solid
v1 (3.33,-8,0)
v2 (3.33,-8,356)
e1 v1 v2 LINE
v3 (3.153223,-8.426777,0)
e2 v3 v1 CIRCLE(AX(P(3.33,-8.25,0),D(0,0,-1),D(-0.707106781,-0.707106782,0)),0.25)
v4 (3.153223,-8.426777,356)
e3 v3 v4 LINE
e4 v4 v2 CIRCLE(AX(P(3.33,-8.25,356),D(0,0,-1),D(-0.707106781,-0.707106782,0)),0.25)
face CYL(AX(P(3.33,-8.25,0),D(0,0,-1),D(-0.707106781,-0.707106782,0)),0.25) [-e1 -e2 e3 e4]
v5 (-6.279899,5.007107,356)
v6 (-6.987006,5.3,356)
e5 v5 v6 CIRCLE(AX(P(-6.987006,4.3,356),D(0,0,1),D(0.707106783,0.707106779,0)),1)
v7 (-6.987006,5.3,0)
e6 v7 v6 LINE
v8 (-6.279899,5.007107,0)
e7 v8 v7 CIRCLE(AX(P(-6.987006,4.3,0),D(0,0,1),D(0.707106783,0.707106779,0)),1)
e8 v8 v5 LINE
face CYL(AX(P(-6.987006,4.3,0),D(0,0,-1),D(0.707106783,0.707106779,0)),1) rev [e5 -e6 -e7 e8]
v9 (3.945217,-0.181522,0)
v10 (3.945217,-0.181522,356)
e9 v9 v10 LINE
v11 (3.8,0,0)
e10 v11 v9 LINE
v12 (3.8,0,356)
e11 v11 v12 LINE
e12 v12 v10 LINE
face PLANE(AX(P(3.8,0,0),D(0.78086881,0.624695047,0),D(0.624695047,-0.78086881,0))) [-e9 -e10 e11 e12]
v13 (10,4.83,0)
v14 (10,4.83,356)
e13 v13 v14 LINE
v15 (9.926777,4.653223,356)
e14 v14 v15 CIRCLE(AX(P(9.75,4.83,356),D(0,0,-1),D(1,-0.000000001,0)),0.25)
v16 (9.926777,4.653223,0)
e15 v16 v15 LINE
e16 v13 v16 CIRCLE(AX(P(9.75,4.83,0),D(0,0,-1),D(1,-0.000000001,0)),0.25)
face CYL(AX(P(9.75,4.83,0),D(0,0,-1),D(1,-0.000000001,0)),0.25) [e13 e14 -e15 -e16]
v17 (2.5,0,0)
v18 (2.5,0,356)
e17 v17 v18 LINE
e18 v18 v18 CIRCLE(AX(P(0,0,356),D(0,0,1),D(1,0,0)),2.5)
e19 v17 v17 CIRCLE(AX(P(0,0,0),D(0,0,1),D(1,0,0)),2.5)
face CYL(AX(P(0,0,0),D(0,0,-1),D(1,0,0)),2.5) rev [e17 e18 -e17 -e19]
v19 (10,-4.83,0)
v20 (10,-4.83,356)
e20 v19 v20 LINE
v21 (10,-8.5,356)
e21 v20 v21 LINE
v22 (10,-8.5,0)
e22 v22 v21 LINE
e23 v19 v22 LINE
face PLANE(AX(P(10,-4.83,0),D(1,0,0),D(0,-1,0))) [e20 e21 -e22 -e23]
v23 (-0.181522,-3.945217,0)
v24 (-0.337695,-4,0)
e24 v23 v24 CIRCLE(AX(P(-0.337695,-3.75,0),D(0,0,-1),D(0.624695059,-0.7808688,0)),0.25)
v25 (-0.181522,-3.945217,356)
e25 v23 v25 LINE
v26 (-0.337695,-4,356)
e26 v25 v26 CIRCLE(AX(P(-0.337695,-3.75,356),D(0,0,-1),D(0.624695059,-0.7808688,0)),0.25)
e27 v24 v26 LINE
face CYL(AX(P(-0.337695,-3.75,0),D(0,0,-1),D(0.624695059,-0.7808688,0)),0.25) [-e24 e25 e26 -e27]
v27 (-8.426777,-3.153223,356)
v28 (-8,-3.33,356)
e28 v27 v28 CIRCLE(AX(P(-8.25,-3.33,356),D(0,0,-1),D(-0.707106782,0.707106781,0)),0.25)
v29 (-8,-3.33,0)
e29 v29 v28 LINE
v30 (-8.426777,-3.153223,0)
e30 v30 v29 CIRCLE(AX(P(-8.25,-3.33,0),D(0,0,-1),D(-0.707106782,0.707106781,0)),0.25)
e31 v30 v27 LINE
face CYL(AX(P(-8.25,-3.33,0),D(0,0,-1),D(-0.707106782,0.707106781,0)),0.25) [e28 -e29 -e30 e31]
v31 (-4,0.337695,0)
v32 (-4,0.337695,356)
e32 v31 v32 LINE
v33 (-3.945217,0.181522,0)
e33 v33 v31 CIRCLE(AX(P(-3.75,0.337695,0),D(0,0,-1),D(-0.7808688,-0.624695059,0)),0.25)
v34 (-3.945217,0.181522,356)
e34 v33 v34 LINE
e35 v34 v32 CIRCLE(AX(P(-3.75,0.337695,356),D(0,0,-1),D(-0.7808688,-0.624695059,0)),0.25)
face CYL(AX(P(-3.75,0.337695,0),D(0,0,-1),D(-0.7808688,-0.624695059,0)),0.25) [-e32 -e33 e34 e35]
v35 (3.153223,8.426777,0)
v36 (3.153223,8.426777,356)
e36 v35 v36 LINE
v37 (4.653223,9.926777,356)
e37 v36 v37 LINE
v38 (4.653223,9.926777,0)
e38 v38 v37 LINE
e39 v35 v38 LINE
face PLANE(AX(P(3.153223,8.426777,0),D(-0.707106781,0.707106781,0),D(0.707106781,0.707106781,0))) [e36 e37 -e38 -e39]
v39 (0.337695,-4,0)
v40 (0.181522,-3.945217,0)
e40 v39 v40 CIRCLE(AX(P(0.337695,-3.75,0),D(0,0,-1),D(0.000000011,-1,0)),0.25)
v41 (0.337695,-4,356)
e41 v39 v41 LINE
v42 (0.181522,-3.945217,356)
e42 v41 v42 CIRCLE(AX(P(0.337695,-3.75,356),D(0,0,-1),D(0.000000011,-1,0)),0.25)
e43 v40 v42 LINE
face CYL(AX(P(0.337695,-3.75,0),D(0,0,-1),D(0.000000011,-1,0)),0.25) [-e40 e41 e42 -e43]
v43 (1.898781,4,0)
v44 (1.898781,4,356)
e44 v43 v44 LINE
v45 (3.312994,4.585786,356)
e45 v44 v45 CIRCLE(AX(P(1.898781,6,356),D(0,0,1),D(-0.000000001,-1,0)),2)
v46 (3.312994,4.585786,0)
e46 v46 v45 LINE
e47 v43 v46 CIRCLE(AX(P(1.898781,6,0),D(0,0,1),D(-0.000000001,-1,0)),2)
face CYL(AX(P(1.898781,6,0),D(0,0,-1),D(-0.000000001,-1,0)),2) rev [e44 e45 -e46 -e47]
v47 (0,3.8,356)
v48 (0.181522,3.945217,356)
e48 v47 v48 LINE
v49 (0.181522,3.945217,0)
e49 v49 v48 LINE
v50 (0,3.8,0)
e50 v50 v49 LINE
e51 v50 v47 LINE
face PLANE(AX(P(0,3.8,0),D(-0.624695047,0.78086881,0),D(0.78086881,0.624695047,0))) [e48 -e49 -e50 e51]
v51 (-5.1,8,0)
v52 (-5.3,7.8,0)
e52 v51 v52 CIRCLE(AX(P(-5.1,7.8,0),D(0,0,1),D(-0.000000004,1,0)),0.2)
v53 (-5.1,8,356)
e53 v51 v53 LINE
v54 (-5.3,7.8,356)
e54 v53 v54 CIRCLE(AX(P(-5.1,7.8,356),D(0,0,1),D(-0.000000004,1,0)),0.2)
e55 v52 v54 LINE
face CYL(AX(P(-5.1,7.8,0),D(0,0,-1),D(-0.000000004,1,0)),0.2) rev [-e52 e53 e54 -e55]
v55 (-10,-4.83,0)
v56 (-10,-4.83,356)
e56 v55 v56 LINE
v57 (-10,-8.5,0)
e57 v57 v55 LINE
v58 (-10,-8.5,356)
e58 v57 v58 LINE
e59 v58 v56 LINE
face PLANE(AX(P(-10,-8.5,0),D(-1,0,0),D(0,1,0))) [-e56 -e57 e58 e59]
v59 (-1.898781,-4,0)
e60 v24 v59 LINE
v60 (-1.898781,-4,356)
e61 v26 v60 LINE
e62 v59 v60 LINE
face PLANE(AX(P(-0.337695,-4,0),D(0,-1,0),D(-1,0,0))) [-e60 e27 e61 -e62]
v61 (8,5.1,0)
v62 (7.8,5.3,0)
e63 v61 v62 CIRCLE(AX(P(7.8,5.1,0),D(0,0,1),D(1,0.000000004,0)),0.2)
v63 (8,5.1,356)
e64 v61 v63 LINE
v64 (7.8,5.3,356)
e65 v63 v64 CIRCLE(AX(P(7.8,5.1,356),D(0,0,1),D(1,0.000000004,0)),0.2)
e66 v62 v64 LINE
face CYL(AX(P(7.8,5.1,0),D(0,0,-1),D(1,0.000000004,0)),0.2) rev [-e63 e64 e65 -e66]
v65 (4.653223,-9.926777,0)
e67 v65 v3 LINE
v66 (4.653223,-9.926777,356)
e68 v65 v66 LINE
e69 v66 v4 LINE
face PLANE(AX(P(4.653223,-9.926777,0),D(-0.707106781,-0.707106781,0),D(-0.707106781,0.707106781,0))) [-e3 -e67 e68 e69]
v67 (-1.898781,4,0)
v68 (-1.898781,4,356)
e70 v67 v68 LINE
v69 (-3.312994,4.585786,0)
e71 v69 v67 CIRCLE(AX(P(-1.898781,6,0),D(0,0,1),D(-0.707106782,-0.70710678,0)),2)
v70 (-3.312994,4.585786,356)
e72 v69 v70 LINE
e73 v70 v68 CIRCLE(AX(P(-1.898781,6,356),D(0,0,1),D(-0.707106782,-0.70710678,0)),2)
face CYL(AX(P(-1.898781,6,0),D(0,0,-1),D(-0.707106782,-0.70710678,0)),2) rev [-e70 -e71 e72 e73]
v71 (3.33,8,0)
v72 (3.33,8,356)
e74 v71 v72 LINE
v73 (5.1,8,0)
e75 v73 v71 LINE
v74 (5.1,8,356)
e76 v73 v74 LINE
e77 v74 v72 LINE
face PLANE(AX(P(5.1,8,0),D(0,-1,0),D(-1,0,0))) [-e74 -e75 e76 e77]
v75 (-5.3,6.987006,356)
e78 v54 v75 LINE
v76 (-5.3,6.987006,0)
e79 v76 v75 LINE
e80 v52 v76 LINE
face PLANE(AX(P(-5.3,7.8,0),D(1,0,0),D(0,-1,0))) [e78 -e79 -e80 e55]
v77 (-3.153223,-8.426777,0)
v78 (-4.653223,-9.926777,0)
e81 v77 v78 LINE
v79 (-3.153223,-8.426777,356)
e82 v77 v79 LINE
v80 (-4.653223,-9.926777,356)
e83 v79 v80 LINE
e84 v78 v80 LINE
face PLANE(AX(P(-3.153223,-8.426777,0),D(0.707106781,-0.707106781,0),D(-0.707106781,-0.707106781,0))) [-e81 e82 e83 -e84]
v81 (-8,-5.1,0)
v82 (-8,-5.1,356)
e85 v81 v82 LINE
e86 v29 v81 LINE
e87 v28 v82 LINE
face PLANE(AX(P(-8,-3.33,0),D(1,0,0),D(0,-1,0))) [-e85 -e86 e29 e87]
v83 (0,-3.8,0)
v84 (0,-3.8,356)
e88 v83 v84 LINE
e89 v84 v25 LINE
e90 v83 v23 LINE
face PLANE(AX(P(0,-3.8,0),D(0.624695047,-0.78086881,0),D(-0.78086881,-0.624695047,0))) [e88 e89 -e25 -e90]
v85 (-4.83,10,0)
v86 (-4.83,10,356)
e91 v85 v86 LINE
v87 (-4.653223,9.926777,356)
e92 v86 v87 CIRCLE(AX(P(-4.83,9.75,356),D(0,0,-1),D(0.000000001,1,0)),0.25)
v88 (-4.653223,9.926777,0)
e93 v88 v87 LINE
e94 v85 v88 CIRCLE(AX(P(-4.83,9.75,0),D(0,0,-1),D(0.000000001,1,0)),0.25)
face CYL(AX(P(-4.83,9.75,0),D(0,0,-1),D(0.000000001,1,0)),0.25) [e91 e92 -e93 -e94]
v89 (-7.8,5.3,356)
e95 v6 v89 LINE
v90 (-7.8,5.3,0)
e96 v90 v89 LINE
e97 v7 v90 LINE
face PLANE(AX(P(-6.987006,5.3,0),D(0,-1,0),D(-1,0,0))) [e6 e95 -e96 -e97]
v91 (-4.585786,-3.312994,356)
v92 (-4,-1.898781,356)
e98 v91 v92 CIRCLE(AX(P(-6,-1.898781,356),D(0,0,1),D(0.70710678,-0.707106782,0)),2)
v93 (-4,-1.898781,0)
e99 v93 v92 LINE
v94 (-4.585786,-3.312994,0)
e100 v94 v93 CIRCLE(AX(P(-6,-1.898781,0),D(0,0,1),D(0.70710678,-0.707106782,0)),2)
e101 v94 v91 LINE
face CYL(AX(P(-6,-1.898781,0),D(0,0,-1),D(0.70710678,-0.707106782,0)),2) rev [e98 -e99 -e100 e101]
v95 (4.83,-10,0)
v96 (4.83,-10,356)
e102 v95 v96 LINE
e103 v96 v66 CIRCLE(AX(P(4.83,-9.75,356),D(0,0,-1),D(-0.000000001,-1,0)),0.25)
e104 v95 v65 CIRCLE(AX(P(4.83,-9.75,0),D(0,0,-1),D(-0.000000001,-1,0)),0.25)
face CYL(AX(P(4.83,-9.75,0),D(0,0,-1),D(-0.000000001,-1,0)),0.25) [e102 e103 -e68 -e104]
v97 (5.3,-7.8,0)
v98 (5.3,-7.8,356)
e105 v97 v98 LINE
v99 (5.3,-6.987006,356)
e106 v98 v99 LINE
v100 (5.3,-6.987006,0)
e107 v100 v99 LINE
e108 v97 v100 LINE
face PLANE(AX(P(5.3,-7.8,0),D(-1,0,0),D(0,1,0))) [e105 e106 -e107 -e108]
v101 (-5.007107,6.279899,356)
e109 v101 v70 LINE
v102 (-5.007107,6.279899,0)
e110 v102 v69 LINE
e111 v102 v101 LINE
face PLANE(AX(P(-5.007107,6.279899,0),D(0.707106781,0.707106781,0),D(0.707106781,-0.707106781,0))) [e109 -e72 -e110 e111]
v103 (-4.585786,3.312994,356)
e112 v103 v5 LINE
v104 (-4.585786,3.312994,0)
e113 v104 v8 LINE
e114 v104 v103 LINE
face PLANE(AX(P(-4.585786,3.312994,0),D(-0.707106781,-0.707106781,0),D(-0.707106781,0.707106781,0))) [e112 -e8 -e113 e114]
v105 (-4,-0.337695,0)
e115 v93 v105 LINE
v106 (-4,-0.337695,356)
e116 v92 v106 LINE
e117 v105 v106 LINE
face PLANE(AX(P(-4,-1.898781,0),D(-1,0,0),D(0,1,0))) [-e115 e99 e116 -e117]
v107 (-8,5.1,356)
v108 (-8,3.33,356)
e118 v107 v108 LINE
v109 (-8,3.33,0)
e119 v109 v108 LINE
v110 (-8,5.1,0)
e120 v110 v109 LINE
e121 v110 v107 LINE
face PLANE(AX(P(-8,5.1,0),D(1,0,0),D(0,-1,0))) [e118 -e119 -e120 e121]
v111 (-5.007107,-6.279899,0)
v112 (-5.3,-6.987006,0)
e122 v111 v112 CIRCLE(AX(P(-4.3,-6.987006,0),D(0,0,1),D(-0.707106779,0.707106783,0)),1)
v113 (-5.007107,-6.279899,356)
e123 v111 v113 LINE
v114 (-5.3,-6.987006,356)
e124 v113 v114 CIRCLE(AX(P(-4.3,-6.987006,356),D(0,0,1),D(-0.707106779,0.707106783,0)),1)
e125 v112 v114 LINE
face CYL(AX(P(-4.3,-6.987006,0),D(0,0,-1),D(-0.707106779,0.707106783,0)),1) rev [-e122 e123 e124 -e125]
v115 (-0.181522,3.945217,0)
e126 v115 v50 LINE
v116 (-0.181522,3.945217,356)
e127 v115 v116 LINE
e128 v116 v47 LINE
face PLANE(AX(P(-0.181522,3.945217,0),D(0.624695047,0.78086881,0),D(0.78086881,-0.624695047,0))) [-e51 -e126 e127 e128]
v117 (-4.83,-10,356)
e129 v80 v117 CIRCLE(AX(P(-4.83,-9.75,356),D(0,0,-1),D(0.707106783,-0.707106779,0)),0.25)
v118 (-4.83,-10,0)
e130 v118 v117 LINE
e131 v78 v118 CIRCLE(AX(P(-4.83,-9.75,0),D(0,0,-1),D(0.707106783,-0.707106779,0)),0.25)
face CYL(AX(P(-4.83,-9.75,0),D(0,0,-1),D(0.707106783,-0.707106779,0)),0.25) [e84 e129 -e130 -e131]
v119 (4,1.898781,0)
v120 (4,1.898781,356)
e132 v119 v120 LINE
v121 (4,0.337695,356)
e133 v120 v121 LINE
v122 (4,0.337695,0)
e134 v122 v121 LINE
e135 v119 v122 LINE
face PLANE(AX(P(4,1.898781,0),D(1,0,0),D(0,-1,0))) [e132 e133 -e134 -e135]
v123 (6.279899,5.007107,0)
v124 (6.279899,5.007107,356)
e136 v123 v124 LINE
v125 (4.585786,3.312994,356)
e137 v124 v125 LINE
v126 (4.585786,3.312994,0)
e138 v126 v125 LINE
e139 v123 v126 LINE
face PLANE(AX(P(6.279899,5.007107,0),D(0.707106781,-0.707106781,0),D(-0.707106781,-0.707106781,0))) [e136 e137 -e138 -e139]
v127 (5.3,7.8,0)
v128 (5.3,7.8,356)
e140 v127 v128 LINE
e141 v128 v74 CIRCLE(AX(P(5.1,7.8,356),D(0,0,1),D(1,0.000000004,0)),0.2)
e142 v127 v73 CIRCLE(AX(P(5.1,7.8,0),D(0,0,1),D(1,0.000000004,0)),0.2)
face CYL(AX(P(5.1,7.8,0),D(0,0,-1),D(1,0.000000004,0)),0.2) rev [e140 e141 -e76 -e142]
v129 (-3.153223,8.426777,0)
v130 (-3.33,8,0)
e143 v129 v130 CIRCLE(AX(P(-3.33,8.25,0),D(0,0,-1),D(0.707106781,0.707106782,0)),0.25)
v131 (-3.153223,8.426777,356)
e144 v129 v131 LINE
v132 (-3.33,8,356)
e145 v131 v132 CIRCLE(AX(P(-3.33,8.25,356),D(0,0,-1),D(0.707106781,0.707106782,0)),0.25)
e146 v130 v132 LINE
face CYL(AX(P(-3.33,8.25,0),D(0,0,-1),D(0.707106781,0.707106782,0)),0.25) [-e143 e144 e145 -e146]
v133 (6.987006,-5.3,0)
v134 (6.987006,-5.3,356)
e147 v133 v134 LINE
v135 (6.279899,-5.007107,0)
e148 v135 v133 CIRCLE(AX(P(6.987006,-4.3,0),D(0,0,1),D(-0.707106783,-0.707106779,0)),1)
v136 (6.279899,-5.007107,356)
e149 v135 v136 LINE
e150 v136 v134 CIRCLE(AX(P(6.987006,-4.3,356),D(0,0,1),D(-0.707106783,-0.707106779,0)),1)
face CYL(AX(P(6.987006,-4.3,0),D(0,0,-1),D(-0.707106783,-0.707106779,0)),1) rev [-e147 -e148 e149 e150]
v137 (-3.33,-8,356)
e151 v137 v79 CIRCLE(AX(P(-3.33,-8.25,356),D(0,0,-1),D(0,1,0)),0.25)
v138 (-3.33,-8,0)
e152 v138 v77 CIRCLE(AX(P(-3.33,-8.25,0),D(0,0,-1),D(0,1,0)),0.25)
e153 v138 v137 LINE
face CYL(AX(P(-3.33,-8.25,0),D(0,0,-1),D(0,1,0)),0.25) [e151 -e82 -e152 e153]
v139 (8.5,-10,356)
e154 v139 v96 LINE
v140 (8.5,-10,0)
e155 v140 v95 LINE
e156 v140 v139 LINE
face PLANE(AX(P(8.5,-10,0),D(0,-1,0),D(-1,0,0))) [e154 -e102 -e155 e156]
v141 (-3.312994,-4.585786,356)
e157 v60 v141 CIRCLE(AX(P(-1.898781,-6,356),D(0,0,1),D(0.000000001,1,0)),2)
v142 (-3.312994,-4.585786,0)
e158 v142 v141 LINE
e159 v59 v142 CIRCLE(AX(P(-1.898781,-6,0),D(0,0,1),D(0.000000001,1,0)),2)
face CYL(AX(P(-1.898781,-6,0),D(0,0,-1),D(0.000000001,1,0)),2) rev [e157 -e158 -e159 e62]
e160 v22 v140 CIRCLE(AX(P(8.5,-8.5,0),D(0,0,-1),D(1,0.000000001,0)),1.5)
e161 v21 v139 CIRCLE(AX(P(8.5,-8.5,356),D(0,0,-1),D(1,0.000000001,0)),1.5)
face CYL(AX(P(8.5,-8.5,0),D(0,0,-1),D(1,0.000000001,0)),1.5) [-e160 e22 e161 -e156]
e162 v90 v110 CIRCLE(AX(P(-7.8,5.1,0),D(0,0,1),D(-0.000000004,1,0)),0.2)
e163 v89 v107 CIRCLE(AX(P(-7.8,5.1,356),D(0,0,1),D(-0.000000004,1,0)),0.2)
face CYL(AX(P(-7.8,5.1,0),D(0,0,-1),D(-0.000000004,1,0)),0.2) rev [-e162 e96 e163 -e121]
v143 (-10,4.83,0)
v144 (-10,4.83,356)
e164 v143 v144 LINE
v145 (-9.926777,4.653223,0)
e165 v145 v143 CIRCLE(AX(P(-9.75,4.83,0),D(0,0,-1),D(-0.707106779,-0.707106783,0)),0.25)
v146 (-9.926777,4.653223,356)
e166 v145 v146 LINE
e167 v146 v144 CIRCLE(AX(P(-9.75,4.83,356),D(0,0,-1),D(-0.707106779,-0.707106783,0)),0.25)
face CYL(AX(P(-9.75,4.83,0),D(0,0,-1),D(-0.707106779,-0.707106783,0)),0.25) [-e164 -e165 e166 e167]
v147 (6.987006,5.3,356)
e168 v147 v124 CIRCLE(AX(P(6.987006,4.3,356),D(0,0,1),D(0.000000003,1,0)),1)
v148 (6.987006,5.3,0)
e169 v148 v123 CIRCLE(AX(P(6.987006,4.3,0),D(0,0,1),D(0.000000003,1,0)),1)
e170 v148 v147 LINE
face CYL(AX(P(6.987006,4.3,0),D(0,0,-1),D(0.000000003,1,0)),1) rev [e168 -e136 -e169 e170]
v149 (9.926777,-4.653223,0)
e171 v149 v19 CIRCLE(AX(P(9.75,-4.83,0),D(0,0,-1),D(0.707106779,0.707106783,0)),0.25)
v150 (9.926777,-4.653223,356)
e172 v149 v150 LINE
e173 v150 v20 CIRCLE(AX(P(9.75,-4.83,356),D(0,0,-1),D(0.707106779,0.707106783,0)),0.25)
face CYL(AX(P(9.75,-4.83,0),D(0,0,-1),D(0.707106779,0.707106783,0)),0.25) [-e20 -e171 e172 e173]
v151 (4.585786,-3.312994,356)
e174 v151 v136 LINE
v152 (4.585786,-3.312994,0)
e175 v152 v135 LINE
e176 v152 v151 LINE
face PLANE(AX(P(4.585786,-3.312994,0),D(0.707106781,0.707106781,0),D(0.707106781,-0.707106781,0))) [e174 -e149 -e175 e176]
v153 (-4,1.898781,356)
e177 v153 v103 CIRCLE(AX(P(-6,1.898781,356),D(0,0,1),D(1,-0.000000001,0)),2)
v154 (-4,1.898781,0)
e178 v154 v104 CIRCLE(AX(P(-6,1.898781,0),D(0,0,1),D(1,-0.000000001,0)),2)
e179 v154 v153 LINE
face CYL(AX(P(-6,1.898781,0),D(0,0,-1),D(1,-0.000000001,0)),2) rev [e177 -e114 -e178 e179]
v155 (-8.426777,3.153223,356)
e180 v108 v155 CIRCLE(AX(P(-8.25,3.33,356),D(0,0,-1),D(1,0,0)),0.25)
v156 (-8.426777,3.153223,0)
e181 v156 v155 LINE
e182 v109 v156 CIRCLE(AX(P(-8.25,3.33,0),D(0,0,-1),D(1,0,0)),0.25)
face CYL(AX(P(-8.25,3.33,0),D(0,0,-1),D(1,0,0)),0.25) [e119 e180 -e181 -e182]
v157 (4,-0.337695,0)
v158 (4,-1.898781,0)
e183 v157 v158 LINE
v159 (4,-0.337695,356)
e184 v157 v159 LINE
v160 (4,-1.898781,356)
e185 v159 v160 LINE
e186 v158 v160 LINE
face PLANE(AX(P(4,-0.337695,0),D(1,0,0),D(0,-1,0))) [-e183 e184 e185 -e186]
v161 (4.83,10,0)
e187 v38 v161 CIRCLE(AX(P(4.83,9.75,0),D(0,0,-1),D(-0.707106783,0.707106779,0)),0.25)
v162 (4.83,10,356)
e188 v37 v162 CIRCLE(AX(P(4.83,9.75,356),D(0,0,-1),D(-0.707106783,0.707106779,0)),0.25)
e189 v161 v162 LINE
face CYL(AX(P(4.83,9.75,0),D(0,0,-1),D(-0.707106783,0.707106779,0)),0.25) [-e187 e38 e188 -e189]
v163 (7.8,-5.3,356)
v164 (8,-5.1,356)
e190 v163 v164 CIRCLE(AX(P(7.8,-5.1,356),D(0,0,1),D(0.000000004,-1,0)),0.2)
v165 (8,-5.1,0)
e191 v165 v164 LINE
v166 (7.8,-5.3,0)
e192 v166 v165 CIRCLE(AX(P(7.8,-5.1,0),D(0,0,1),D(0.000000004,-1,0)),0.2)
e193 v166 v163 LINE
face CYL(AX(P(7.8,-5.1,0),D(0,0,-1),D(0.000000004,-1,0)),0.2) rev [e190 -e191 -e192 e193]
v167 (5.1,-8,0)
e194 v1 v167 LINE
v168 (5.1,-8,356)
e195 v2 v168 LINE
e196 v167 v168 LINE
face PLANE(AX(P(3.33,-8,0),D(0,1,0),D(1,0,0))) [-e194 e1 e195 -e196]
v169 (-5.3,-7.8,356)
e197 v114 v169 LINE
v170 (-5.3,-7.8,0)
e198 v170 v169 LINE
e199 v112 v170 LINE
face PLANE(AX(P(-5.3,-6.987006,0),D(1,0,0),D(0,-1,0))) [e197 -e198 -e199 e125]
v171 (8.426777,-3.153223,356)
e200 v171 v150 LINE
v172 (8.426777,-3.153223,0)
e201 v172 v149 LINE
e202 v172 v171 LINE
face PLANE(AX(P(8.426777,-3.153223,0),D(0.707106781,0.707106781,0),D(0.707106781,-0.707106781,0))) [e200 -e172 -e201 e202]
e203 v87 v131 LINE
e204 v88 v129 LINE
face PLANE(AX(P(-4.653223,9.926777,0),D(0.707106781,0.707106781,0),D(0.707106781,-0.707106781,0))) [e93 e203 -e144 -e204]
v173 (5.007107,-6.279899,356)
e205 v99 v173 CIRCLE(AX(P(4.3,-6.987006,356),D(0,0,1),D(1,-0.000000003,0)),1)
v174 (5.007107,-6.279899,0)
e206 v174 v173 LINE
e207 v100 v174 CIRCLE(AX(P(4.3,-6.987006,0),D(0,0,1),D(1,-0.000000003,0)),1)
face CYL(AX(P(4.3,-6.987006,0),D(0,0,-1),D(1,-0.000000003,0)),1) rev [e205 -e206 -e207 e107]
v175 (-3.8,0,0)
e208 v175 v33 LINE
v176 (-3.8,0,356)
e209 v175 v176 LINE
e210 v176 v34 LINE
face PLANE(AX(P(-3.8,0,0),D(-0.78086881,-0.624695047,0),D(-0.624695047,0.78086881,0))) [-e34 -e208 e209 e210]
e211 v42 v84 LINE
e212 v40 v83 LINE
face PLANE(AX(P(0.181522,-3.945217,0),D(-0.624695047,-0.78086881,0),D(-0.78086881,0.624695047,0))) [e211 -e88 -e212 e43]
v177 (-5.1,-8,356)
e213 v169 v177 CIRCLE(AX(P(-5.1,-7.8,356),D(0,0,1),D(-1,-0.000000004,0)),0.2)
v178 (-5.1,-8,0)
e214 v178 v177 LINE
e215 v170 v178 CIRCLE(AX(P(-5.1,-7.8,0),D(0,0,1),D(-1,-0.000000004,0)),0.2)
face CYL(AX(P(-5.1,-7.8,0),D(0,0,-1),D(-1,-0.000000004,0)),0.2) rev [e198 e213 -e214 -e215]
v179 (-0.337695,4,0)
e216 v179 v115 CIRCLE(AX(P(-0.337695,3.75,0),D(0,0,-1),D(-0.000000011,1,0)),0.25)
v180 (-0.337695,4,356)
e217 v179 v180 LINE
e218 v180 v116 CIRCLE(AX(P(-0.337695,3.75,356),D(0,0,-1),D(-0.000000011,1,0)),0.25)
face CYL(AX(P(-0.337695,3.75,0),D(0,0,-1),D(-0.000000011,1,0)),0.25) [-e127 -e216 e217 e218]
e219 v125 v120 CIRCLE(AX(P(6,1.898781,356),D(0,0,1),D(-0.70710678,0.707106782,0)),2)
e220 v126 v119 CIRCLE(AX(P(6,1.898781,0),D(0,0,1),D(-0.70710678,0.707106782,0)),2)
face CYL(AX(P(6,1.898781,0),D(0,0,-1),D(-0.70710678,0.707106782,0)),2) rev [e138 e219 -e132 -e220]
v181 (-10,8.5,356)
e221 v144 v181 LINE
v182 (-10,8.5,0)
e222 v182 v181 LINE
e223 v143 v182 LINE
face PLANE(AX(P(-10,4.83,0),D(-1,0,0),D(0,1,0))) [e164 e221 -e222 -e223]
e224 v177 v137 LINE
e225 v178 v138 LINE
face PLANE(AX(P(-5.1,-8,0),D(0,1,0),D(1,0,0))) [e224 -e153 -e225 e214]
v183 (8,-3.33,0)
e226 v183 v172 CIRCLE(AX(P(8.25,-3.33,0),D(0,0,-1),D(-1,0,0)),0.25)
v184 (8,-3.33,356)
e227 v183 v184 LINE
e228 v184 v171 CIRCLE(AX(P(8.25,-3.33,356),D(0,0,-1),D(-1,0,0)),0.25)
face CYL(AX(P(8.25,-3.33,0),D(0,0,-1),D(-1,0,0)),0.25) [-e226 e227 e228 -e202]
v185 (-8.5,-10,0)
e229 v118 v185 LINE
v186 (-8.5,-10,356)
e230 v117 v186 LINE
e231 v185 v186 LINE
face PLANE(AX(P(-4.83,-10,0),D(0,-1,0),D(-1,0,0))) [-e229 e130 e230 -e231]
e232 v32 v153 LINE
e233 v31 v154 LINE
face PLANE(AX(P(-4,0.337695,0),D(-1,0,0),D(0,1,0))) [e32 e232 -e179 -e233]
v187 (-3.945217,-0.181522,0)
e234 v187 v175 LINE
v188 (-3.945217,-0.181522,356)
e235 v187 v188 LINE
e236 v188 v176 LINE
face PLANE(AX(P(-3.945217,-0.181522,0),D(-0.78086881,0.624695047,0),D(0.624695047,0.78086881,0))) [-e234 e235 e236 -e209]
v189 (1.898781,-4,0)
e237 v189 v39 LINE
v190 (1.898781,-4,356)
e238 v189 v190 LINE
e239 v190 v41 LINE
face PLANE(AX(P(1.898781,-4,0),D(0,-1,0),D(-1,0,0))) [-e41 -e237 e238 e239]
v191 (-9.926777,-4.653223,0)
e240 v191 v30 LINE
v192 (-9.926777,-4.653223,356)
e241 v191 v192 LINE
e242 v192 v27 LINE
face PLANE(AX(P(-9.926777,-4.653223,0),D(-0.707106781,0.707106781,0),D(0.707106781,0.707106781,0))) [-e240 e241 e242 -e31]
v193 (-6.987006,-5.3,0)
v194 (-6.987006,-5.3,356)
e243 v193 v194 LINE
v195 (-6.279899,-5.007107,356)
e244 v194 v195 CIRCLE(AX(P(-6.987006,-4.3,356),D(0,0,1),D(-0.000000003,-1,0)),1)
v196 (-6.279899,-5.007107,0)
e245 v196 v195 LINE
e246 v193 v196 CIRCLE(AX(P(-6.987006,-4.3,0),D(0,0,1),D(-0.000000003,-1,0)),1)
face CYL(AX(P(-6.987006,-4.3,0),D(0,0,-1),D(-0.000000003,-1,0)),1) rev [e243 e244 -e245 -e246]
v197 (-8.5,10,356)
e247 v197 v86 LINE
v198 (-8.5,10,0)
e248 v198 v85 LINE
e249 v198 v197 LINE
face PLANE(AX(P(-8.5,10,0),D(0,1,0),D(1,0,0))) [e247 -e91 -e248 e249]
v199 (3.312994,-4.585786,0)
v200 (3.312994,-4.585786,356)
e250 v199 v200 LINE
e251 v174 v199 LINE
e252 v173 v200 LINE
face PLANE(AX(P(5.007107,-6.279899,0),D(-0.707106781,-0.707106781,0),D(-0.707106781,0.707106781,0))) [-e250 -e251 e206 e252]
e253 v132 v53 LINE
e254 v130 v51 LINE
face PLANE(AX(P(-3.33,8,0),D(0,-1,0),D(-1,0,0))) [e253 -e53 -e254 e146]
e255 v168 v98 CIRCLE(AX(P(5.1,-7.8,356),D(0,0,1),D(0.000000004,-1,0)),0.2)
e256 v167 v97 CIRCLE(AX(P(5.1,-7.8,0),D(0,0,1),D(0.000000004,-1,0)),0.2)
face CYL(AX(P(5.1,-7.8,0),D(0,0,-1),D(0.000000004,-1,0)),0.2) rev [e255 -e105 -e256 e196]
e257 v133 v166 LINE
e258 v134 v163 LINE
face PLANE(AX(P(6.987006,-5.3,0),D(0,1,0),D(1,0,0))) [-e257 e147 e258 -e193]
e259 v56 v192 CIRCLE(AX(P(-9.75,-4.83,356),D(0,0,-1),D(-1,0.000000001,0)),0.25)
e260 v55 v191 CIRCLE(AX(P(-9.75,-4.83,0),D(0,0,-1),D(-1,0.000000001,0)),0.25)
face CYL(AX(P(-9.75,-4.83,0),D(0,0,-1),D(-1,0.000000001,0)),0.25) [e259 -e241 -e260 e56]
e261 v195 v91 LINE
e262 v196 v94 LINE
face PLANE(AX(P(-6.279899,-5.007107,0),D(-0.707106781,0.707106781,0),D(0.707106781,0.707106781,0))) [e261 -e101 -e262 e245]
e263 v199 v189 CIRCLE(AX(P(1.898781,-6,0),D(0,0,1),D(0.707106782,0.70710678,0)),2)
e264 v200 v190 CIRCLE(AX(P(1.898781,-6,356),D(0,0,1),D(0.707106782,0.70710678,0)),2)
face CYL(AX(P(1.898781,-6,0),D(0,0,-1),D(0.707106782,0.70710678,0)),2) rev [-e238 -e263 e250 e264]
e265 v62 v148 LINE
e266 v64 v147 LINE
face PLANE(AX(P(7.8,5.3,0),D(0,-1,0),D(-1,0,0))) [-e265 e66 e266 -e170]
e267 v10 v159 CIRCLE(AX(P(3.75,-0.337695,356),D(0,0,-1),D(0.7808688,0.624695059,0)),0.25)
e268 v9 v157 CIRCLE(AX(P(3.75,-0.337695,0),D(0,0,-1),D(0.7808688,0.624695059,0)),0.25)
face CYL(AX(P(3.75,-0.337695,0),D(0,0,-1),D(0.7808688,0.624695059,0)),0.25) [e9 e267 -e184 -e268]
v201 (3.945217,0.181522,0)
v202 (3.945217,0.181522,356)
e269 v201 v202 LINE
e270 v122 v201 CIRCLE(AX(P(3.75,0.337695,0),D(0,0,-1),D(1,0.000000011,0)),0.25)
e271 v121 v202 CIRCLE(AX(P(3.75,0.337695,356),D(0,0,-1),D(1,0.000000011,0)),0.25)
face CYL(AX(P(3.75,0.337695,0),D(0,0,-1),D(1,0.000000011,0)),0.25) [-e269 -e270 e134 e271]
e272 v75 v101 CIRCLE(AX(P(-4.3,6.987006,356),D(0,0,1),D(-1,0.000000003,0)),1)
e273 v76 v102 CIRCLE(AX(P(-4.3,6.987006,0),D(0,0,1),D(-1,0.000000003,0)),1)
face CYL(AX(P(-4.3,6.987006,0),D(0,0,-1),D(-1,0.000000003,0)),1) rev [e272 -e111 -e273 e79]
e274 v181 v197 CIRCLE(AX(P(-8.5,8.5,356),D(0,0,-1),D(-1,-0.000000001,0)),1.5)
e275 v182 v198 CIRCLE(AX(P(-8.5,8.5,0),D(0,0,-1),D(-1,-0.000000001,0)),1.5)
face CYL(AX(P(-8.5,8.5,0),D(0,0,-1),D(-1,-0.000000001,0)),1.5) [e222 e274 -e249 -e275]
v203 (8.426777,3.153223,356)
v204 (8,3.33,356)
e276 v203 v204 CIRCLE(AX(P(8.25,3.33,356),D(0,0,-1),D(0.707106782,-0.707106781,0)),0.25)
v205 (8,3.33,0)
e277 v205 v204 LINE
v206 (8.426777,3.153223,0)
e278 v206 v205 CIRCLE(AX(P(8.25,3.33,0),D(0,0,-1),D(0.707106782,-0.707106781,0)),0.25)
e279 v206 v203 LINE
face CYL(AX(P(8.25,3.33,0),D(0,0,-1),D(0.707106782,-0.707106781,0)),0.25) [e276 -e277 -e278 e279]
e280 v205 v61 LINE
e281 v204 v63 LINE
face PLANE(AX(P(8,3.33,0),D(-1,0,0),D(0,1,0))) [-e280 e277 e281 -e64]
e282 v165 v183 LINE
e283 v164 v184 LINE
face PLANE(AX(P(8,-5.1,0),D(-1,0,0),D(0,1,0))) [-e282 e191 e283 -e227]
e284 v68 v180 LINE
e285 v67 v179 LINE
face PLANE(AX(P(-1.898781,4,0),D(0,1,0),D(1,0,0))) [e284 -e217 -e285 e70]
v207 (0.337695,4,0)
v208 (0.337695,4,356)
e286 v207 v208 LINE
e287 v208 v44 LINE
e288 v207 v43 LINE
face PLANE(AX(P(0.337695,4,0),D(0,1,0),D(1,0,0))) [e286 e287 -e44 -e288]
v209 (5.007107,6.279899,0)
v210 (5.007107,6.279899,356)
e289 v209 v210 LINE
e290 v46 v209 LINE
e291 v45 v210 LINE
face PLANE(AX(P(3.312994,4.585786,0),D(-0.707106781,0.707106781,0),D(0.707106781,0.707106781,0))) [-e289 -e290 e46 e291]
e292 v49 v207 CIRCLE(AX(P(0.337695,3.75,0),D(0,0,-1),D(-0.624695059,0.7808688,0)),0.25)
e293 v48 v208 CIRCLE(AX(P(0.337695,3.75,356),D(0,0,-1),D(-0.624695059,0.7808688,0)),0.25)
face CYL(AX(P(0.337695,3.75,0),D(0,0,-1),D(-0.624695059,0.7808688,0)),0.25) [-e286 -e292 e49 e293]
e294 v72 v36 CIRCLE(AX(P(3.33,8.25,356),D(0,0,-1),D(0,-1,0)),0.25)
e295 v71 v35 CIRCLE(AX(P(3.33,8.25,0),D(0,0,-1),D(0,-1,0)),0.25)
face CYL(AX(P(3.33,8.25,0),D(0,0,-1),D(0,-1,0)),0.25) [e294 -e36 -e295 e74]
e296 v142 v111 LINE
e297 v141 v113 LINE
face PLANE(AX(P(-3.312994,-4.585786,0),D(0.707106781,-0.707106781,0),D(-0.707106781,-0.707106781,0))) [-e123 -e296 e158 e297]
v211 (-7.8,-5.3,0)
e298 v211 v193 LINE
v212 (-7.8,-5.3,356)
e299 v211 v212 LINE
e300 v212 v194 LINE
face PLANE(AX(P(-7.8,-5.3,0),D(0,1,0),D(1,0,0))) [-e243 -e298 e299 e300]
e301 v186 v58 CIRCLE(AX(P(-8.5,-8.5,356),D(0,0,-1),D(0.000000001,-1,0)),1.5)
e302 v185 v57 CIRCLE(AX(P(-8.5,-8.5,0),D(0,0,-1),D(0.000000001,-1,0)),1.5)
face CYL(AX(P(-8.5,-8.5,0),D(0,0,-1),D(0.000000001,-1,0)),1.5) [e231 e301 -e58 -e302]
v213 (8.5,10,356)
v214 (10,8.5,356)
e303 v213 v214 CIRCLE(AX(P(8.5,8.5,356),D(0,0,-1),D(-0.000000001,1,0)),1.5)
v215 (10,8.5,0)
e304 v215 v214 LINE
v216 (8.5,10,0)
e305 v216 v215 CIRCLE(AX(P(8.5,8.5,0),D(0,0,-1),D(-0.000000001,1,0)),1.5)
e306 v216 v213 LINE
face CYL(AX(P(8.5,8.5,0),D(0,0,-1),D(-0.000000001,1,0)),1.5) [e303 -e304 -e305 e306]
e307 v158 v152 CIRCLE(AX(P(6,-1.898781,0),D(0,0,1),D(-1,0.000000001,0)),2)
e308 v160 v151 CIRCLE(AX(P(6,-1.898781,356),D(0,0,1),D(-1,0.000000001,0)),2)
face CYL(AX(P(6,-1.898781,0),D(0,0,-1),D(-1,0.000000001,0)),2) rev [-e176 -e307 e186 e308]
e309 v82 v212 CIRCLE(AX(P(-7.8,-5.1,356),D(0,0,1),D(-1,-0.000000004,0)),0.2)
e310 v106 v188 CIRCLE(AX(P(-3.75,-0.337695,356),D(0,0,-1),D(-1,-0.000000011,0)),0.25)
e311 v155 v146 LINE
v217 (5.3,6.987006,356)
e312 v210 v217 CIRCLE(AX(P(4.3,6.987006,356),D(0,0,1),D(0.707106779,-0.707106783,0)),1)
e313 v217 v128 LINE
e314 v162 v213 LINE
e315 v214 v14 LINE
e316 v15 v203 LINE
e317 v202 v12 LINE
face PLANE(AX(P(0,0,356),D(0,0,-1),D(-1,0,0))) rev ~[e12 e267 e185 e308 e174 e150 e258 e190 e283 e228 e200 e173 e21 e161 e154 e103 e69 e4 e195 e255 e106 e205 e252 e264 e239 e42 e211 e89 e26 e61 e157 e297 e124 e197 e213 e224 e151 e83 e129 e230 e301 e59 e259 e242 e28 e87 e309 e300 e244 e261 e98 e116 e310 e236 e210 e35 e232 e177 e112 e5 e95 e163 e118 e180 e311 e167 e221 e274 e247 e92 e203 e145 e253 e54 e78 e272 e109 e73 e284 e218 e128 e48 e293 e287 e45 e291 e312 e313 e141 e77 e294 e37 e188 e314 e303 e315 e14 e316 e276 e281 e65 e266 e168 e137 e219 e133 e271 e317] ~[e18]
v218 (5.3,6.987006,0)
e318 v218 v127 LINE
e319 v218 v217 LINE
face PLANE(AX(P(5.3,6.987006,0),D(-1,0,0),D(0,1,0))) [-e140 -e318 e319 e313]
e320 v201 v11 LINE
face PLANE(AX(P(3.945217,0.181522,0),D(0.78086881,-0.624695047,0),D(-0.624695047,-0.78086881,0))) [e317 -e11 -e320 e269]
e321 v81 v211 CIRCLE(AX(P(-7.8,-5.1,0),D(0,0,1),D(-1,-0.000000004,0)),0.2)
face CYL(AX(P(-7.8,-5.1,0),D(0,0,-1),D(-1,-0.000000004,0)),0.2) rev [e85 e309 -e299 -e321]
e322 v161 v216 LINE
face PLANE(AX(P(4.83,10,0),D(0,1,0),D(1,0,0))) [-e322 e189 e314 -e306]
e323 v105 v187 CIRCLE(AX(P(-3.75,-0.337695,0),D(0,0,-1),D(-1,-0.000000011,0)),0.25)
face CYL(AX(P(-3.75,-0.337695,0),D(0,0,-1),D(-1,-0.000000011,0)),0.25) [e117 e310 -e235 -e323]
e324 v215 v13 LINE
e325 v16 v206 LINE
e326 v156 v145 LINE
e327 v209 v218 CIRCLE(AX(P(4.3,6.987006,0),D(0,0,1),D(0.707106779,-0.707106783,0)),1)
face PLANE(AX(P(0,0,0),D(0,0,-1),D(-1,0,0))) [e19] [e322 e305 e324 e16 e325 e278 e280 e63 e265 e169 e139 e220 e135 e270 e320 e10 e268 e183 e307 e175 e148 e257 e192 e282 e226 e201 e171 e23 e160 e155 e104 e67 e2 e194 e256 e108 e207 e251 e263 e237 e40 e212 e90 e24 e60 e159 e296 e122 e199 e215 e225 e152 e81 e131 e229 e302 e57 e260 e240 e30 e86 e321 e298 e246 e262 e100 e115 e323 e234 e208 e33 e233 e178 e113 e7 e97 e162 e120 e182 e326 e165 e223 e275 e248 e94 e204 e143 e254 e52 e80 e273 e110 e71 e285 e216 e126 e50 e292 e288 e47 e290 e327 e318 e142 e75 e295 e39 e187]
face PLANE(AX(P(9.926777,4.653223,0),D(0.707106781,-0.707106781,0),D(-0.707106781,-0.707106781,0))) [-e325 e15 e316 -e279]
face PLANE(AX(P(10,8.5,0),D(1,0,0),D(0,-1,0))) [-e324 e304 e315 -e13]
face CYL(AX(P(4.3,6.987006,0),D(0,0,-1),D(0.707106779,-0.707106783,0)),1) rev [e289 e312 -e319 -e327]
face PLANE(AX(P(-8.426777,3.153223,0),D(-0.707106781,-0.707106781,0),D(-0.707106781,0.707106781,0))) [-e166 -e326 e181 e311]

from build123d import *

# Parameters (mm, degrees)
MODEL_R             = 2.5
EXTRUDED_BODY_DEPTH = 356


with BuildPart() as part:
    # Model → Extruded body (new body)
    with BuildSketch(Plane.XY):
        with BuildLine():
            Line((-4, 0.337695265), (-4, 1.898780669))
            ThreePointArc((-4, 1.898780669), (-4.152240935, 2.664147534), (-4.585786438, 3.312994231))
            Line((-4.585786438, 3.312994231), (-6.279898987, 5.007106781))
            ThreePointArc((-6.279898987, 5.007106781), (-6.604322336, 5.223879533), (-6.987005769, 5.3))
            Line((-6.987005769, 5.3), (-7.8, 5.3))
            ThreePointArc((-7.8, 5.3), (-7.941421356, 5.241421356), (-8, 5.1))
            Line((-8, 5.1), (-8, 3.33))
            ThreePointArc((-8, 3.33), (-8.154329142, 3.099030117), (-8.426776695, 3.153223305))
            Line((-8.426776695, 3.153223305), (-9.926776695, 4.653223305))
            ThreePointArc((-9.926776695, 4.653223305), (-9.980969883, 4.734329142), (-10, 4.83))
            Line((-10, 4.83), (-10, 8.5))
            ThreePointArc((-10, 8.5), (-9.560660172, 9.560660172), (-8.5, 10))
            Line((-8.5, 10), (-4.83, 10))
            ThreePointArc((-4.83, 10), (-4.734329142, 9.980969883), (-4.653223305, 9.926776695))
            Line((-4.653223305, 9.926776695), (-3.153223305, 8.426776695))
            ThreePointArc((-3.153223305, 8.426776695), (-3.099030117, 8.154329142), (-3.33, 8))
            Line((-3.33, 8), (-5.1, 8))
            ThreePointArc((-5.1, 8), (-5.241421356, 7.941421356), (-5.3, 7.8))
            Line((-5.3, 7.8), (-5.3, 6.987005769))
            ThreePointArc((-5.3, 6.987005769), (-5.223879533, 6.604322336), (-5.007106781, 6.279898987))
            Line((-5.007106781, 6.279898987), (-3.312994231, 4.585786438))
            ThreePointArc((-3.312994231, 4.585786438), (-2.664147534, 4.152240935), (-1.898780669, 4))
            Line((-1.898780669, 4), (-0.337695265, 4))
            ThreePointArc((-0.337695265, 4), (-0.254943529, 3.98590708), (-0.181521503, 3.945217202))
            Line((-0.181521503, 3.945217202), (0, 3.8))
            Line((0, 3.8), (0.181521503, 3.945217202))
            ThreePointArc((0.181521503, 3.945217202), (0.254943529, 3.98590708), (0.337695265, 4))
            Line((0.337695265, 4), (1.898780669, 4))
            ThreePointArc((1.898780669, 4), (2.664147534, 4.152240935), (3.312994231, 4.585786438))
            Line((3.312994231, 4.585786438), (5.007106781, 6.279898987))
            ThreePointArc((5.007106781, 6.279898987), (5.223879533, 6.604322336), (5.3, 6.987005769))
            Line((5.3, 6.987005769), (5.3, 7.8))
            ThreePointArc((5.3, 7.8), (5.241421356, 7.941421356), (5.1, 8))
            Line((5.1, 8), (3.33, 8))
            ThreePointArc((3.33, 8), (3.099030117, 8.154329142), (3.153223305, 8.426776695))
            Line((3.153223305, 8.426776695), (4.653223305, 9.926776695))
            ThreePointArc((4.653223305, 9.926776695), (4.734329142, 9.980969883), (4.83, 10))
            Line((4.83, 10), (8.5, 10))
            ThreePointArc((8.5, 10), (9.560660172, 9.560660172), (10, 8.5))
            Line((10, 8.5), (10, 4.83))
            ThreePointArc((10, 4.83), (9.980969883, 4.734329142), (9.926776695, 4.653223305))
            Line((9.926776695, 4.653223305), (8.426776695, 3.153223305))
            ThreePointArc((8.426776695, 3.153223305), (8.154329142, 3.099030117), (8, 3.33))
            Line((8, 3.33), (8, 5.1))
            ThreePointArc((8, 5.1), (7.941421356, 5.241421356), (7.8, 5.3))
            Line((7.8, 5.3), (6.987005769, 5.3))
            ThreePointArc((6.987005769, 5.3), (6.604322336, 5.223879533), (6.279898987, 5.007106781))
            Line((6.279898987, 5.007106781), (4.585786438, 3.312994231))
            ThreePointArc((4.585786438, 3.312994231), (4.152240935, 2.664147534), (4, 1.898780669))
            Line((4, 1.898780669), (4, 0.337695265))
            ThreePointArc((4, 0.337695265), (3.98590708, 0.254943529), (3.945217202, 0.181521503))
            Line((3.945217202, 0.181521503), (3.8, 0))
            Line((3.8, 0), (3.945217202, -0.181521503))
            ThreePointArc((3.945217202, -0.181521503), (3.98590708, -0.254943529), (4, -0.337695265))
            Line((4, -0.337695265), (4, -1.898780669))
            ThreePointArc((4, -1.898780669), (4.152240935, -2.664147534), (4.585786438, -3.312994231))
            Line((4.585786438, -3.312994231), (6.279898987, -5.007106781))
            ThreePointArc((6.279898987, -5.007106781), (6.604322336, -5.223879533), (6.987005769, -5.3))
            Line((6.987005769, -5.3), (7.8, -5.3))
            ThreePointArc((7.8, -5.3), (7.941421356, -5.241421356), (8, -5.1))
            Line((8, -5.1), (8, -3.33))
            ThreePointArc((8, -3.33), (8.154329142, -3.099030117), (8.426776695, -3.153223305))
            Line((8.426776695, -3.153223305), (9.926776695, -4.653223305))
            ThreePointArc((9.926776695, -4.653223305), (9.980969883, -4.734329142), (10, -4.83))
            Line((10, -4.83), (10, -8.5))
            ThreePointArc((10, -8.5), (9.560660172, -9.560660172), (8.5, -10))
            Line((8.5, -10), (4.83, -10))
            ThreePointArc((4.83, -10), (4.734329142, -9.980969883), (4.653223305, -9.926776695))
            Line((4.653223305, -9.926776695), (3.153223305, -8.426776695))
            ThreePointArc((3.153223305, -8.426776695), (3.099030117, -8.154329142), (3.33, -8))
            Line((3.33, -8), (5.1, -8))
            ThreePointArc((5.1, -8), (5.241421356, -7.941421356), (5.3, -7.8))
            Line((5.3, -7.8), (5.3, -6.987005769))
            ThreePointArc((5.3, -6.987005769), (5.223879533, -6.604322336), (5.007106781, -6.279898987))
            Line((5.007106781, -6.279898987), (3.312994231, -4.585786438))
            ThreePointArc((3.312994231, -4.585786438), (2.664147534, -4.152240935), (1.898780669, -4))
            Line((1.898780669, -4), (0.337695265, -4))
            ThreePointArc((0.337695265, -4), (0.254943529, -3.98590708), (0.181521503, -3.945217202))
            Line((0.181521503, -3.945217202), (0, -3.8))
            Line((0, -3.8), (-0.181521503, -3.945217202))
            ThreePointArc((-0.181521503, -3.945217202), (-0.254943529, -3.98590708), (-0.337695265, -4))
            Line((-0.337695265, -4), (-1.898780669, -4))
            ThreePointArc((-1.898780669, -4), (-2.664147534, -4.152240935), (-3.312994231, -4.585786438))
            Line((-3.312994231, -4.585786438), (-5.007106781, -6.279898987))
            ThreePointArc((-5.007106781, -6.279898987), (-5.223879533, -6.604322336), (-5.3, -6.987005769))
            Line((-5.3, -6.987005769), (-5.3, -7.8))
            ThreePointArc((-5.3, -7.8), (-5.241421356, -7.941421356), (-5.1, -8))
            Line((-5.1, -8), (-3.33, -8))
            ThreePointArc((-3.33, -8), (-3.099030117, -8.154329142), (-3.153223305, -8.426776695))
            Line((-3.153223305, -8.426776695), (-4.653223305, -9.926776695))
            ThreePointArc((-4.653223305, -9.926776695), (-4.734329142, -9.980969883), (-4.83, -10))
            Line((-4.83, -10), (-8.5, -10))
            ThreePointArc((-8.5, -10), (-9.560660172, -9.560660172), (-10, -8.5))
            Line((-10, -8.5), (-10, -4.83))
            ThreePointArc((-10, -4.83), (-9.980969883, -4.734329142), (-9.926776695, -4.653223305))
            Line((-9.926776695, -4.653223305), (-8.426776695, -3.153223305))
            ThreePointArc((-8.426776695, -3.153223305), (-8.154329142, -3.099030117), (-8, -3.33))
            Line((-8, -3.33), (-8, -5.1))
            ThreePointArc((-8, -5.1), (-7.941421356, -5.241421356), (-7.8, -5.3))
            Line((-7.8, -5.3), (-6.987005769, -5.3))
            ThreePointArc((-6.987005769, -5.3), (-6.604322336, -5.223879533), (-6.279898987, -5.007106781))
            Line((-6.279898987, -5.007106781), (-4.585786438, -3.312994231))
            ThreePointArc((-4.585786438, -3.312994231), (-4.152240935, -2.664147534), (-4, -1.898780669))
            Line((-4, -1.898780669), (-4, -0.337695265))
            ThreePointArc((-4, -0.337695265), (-3.98590708, -0.254943529), (-3.945217202, -0.181521503))
            Line((-3.945217202, -0.181521503), (-3.8, 0))
            Line((-3.8, 0), (-3.945217202, 0.181521503))
            ThreePointArc((-3.945217202, 0.181521503), (-3.98590708, 0.254943529), (-4, 0.337695265))
        make_face()
        Circle(MODEL_R, mode=Mode.SUBTRACT)
    extrude(amount=EXTRUDED_BODY_DEPTH)


solid = part.part
